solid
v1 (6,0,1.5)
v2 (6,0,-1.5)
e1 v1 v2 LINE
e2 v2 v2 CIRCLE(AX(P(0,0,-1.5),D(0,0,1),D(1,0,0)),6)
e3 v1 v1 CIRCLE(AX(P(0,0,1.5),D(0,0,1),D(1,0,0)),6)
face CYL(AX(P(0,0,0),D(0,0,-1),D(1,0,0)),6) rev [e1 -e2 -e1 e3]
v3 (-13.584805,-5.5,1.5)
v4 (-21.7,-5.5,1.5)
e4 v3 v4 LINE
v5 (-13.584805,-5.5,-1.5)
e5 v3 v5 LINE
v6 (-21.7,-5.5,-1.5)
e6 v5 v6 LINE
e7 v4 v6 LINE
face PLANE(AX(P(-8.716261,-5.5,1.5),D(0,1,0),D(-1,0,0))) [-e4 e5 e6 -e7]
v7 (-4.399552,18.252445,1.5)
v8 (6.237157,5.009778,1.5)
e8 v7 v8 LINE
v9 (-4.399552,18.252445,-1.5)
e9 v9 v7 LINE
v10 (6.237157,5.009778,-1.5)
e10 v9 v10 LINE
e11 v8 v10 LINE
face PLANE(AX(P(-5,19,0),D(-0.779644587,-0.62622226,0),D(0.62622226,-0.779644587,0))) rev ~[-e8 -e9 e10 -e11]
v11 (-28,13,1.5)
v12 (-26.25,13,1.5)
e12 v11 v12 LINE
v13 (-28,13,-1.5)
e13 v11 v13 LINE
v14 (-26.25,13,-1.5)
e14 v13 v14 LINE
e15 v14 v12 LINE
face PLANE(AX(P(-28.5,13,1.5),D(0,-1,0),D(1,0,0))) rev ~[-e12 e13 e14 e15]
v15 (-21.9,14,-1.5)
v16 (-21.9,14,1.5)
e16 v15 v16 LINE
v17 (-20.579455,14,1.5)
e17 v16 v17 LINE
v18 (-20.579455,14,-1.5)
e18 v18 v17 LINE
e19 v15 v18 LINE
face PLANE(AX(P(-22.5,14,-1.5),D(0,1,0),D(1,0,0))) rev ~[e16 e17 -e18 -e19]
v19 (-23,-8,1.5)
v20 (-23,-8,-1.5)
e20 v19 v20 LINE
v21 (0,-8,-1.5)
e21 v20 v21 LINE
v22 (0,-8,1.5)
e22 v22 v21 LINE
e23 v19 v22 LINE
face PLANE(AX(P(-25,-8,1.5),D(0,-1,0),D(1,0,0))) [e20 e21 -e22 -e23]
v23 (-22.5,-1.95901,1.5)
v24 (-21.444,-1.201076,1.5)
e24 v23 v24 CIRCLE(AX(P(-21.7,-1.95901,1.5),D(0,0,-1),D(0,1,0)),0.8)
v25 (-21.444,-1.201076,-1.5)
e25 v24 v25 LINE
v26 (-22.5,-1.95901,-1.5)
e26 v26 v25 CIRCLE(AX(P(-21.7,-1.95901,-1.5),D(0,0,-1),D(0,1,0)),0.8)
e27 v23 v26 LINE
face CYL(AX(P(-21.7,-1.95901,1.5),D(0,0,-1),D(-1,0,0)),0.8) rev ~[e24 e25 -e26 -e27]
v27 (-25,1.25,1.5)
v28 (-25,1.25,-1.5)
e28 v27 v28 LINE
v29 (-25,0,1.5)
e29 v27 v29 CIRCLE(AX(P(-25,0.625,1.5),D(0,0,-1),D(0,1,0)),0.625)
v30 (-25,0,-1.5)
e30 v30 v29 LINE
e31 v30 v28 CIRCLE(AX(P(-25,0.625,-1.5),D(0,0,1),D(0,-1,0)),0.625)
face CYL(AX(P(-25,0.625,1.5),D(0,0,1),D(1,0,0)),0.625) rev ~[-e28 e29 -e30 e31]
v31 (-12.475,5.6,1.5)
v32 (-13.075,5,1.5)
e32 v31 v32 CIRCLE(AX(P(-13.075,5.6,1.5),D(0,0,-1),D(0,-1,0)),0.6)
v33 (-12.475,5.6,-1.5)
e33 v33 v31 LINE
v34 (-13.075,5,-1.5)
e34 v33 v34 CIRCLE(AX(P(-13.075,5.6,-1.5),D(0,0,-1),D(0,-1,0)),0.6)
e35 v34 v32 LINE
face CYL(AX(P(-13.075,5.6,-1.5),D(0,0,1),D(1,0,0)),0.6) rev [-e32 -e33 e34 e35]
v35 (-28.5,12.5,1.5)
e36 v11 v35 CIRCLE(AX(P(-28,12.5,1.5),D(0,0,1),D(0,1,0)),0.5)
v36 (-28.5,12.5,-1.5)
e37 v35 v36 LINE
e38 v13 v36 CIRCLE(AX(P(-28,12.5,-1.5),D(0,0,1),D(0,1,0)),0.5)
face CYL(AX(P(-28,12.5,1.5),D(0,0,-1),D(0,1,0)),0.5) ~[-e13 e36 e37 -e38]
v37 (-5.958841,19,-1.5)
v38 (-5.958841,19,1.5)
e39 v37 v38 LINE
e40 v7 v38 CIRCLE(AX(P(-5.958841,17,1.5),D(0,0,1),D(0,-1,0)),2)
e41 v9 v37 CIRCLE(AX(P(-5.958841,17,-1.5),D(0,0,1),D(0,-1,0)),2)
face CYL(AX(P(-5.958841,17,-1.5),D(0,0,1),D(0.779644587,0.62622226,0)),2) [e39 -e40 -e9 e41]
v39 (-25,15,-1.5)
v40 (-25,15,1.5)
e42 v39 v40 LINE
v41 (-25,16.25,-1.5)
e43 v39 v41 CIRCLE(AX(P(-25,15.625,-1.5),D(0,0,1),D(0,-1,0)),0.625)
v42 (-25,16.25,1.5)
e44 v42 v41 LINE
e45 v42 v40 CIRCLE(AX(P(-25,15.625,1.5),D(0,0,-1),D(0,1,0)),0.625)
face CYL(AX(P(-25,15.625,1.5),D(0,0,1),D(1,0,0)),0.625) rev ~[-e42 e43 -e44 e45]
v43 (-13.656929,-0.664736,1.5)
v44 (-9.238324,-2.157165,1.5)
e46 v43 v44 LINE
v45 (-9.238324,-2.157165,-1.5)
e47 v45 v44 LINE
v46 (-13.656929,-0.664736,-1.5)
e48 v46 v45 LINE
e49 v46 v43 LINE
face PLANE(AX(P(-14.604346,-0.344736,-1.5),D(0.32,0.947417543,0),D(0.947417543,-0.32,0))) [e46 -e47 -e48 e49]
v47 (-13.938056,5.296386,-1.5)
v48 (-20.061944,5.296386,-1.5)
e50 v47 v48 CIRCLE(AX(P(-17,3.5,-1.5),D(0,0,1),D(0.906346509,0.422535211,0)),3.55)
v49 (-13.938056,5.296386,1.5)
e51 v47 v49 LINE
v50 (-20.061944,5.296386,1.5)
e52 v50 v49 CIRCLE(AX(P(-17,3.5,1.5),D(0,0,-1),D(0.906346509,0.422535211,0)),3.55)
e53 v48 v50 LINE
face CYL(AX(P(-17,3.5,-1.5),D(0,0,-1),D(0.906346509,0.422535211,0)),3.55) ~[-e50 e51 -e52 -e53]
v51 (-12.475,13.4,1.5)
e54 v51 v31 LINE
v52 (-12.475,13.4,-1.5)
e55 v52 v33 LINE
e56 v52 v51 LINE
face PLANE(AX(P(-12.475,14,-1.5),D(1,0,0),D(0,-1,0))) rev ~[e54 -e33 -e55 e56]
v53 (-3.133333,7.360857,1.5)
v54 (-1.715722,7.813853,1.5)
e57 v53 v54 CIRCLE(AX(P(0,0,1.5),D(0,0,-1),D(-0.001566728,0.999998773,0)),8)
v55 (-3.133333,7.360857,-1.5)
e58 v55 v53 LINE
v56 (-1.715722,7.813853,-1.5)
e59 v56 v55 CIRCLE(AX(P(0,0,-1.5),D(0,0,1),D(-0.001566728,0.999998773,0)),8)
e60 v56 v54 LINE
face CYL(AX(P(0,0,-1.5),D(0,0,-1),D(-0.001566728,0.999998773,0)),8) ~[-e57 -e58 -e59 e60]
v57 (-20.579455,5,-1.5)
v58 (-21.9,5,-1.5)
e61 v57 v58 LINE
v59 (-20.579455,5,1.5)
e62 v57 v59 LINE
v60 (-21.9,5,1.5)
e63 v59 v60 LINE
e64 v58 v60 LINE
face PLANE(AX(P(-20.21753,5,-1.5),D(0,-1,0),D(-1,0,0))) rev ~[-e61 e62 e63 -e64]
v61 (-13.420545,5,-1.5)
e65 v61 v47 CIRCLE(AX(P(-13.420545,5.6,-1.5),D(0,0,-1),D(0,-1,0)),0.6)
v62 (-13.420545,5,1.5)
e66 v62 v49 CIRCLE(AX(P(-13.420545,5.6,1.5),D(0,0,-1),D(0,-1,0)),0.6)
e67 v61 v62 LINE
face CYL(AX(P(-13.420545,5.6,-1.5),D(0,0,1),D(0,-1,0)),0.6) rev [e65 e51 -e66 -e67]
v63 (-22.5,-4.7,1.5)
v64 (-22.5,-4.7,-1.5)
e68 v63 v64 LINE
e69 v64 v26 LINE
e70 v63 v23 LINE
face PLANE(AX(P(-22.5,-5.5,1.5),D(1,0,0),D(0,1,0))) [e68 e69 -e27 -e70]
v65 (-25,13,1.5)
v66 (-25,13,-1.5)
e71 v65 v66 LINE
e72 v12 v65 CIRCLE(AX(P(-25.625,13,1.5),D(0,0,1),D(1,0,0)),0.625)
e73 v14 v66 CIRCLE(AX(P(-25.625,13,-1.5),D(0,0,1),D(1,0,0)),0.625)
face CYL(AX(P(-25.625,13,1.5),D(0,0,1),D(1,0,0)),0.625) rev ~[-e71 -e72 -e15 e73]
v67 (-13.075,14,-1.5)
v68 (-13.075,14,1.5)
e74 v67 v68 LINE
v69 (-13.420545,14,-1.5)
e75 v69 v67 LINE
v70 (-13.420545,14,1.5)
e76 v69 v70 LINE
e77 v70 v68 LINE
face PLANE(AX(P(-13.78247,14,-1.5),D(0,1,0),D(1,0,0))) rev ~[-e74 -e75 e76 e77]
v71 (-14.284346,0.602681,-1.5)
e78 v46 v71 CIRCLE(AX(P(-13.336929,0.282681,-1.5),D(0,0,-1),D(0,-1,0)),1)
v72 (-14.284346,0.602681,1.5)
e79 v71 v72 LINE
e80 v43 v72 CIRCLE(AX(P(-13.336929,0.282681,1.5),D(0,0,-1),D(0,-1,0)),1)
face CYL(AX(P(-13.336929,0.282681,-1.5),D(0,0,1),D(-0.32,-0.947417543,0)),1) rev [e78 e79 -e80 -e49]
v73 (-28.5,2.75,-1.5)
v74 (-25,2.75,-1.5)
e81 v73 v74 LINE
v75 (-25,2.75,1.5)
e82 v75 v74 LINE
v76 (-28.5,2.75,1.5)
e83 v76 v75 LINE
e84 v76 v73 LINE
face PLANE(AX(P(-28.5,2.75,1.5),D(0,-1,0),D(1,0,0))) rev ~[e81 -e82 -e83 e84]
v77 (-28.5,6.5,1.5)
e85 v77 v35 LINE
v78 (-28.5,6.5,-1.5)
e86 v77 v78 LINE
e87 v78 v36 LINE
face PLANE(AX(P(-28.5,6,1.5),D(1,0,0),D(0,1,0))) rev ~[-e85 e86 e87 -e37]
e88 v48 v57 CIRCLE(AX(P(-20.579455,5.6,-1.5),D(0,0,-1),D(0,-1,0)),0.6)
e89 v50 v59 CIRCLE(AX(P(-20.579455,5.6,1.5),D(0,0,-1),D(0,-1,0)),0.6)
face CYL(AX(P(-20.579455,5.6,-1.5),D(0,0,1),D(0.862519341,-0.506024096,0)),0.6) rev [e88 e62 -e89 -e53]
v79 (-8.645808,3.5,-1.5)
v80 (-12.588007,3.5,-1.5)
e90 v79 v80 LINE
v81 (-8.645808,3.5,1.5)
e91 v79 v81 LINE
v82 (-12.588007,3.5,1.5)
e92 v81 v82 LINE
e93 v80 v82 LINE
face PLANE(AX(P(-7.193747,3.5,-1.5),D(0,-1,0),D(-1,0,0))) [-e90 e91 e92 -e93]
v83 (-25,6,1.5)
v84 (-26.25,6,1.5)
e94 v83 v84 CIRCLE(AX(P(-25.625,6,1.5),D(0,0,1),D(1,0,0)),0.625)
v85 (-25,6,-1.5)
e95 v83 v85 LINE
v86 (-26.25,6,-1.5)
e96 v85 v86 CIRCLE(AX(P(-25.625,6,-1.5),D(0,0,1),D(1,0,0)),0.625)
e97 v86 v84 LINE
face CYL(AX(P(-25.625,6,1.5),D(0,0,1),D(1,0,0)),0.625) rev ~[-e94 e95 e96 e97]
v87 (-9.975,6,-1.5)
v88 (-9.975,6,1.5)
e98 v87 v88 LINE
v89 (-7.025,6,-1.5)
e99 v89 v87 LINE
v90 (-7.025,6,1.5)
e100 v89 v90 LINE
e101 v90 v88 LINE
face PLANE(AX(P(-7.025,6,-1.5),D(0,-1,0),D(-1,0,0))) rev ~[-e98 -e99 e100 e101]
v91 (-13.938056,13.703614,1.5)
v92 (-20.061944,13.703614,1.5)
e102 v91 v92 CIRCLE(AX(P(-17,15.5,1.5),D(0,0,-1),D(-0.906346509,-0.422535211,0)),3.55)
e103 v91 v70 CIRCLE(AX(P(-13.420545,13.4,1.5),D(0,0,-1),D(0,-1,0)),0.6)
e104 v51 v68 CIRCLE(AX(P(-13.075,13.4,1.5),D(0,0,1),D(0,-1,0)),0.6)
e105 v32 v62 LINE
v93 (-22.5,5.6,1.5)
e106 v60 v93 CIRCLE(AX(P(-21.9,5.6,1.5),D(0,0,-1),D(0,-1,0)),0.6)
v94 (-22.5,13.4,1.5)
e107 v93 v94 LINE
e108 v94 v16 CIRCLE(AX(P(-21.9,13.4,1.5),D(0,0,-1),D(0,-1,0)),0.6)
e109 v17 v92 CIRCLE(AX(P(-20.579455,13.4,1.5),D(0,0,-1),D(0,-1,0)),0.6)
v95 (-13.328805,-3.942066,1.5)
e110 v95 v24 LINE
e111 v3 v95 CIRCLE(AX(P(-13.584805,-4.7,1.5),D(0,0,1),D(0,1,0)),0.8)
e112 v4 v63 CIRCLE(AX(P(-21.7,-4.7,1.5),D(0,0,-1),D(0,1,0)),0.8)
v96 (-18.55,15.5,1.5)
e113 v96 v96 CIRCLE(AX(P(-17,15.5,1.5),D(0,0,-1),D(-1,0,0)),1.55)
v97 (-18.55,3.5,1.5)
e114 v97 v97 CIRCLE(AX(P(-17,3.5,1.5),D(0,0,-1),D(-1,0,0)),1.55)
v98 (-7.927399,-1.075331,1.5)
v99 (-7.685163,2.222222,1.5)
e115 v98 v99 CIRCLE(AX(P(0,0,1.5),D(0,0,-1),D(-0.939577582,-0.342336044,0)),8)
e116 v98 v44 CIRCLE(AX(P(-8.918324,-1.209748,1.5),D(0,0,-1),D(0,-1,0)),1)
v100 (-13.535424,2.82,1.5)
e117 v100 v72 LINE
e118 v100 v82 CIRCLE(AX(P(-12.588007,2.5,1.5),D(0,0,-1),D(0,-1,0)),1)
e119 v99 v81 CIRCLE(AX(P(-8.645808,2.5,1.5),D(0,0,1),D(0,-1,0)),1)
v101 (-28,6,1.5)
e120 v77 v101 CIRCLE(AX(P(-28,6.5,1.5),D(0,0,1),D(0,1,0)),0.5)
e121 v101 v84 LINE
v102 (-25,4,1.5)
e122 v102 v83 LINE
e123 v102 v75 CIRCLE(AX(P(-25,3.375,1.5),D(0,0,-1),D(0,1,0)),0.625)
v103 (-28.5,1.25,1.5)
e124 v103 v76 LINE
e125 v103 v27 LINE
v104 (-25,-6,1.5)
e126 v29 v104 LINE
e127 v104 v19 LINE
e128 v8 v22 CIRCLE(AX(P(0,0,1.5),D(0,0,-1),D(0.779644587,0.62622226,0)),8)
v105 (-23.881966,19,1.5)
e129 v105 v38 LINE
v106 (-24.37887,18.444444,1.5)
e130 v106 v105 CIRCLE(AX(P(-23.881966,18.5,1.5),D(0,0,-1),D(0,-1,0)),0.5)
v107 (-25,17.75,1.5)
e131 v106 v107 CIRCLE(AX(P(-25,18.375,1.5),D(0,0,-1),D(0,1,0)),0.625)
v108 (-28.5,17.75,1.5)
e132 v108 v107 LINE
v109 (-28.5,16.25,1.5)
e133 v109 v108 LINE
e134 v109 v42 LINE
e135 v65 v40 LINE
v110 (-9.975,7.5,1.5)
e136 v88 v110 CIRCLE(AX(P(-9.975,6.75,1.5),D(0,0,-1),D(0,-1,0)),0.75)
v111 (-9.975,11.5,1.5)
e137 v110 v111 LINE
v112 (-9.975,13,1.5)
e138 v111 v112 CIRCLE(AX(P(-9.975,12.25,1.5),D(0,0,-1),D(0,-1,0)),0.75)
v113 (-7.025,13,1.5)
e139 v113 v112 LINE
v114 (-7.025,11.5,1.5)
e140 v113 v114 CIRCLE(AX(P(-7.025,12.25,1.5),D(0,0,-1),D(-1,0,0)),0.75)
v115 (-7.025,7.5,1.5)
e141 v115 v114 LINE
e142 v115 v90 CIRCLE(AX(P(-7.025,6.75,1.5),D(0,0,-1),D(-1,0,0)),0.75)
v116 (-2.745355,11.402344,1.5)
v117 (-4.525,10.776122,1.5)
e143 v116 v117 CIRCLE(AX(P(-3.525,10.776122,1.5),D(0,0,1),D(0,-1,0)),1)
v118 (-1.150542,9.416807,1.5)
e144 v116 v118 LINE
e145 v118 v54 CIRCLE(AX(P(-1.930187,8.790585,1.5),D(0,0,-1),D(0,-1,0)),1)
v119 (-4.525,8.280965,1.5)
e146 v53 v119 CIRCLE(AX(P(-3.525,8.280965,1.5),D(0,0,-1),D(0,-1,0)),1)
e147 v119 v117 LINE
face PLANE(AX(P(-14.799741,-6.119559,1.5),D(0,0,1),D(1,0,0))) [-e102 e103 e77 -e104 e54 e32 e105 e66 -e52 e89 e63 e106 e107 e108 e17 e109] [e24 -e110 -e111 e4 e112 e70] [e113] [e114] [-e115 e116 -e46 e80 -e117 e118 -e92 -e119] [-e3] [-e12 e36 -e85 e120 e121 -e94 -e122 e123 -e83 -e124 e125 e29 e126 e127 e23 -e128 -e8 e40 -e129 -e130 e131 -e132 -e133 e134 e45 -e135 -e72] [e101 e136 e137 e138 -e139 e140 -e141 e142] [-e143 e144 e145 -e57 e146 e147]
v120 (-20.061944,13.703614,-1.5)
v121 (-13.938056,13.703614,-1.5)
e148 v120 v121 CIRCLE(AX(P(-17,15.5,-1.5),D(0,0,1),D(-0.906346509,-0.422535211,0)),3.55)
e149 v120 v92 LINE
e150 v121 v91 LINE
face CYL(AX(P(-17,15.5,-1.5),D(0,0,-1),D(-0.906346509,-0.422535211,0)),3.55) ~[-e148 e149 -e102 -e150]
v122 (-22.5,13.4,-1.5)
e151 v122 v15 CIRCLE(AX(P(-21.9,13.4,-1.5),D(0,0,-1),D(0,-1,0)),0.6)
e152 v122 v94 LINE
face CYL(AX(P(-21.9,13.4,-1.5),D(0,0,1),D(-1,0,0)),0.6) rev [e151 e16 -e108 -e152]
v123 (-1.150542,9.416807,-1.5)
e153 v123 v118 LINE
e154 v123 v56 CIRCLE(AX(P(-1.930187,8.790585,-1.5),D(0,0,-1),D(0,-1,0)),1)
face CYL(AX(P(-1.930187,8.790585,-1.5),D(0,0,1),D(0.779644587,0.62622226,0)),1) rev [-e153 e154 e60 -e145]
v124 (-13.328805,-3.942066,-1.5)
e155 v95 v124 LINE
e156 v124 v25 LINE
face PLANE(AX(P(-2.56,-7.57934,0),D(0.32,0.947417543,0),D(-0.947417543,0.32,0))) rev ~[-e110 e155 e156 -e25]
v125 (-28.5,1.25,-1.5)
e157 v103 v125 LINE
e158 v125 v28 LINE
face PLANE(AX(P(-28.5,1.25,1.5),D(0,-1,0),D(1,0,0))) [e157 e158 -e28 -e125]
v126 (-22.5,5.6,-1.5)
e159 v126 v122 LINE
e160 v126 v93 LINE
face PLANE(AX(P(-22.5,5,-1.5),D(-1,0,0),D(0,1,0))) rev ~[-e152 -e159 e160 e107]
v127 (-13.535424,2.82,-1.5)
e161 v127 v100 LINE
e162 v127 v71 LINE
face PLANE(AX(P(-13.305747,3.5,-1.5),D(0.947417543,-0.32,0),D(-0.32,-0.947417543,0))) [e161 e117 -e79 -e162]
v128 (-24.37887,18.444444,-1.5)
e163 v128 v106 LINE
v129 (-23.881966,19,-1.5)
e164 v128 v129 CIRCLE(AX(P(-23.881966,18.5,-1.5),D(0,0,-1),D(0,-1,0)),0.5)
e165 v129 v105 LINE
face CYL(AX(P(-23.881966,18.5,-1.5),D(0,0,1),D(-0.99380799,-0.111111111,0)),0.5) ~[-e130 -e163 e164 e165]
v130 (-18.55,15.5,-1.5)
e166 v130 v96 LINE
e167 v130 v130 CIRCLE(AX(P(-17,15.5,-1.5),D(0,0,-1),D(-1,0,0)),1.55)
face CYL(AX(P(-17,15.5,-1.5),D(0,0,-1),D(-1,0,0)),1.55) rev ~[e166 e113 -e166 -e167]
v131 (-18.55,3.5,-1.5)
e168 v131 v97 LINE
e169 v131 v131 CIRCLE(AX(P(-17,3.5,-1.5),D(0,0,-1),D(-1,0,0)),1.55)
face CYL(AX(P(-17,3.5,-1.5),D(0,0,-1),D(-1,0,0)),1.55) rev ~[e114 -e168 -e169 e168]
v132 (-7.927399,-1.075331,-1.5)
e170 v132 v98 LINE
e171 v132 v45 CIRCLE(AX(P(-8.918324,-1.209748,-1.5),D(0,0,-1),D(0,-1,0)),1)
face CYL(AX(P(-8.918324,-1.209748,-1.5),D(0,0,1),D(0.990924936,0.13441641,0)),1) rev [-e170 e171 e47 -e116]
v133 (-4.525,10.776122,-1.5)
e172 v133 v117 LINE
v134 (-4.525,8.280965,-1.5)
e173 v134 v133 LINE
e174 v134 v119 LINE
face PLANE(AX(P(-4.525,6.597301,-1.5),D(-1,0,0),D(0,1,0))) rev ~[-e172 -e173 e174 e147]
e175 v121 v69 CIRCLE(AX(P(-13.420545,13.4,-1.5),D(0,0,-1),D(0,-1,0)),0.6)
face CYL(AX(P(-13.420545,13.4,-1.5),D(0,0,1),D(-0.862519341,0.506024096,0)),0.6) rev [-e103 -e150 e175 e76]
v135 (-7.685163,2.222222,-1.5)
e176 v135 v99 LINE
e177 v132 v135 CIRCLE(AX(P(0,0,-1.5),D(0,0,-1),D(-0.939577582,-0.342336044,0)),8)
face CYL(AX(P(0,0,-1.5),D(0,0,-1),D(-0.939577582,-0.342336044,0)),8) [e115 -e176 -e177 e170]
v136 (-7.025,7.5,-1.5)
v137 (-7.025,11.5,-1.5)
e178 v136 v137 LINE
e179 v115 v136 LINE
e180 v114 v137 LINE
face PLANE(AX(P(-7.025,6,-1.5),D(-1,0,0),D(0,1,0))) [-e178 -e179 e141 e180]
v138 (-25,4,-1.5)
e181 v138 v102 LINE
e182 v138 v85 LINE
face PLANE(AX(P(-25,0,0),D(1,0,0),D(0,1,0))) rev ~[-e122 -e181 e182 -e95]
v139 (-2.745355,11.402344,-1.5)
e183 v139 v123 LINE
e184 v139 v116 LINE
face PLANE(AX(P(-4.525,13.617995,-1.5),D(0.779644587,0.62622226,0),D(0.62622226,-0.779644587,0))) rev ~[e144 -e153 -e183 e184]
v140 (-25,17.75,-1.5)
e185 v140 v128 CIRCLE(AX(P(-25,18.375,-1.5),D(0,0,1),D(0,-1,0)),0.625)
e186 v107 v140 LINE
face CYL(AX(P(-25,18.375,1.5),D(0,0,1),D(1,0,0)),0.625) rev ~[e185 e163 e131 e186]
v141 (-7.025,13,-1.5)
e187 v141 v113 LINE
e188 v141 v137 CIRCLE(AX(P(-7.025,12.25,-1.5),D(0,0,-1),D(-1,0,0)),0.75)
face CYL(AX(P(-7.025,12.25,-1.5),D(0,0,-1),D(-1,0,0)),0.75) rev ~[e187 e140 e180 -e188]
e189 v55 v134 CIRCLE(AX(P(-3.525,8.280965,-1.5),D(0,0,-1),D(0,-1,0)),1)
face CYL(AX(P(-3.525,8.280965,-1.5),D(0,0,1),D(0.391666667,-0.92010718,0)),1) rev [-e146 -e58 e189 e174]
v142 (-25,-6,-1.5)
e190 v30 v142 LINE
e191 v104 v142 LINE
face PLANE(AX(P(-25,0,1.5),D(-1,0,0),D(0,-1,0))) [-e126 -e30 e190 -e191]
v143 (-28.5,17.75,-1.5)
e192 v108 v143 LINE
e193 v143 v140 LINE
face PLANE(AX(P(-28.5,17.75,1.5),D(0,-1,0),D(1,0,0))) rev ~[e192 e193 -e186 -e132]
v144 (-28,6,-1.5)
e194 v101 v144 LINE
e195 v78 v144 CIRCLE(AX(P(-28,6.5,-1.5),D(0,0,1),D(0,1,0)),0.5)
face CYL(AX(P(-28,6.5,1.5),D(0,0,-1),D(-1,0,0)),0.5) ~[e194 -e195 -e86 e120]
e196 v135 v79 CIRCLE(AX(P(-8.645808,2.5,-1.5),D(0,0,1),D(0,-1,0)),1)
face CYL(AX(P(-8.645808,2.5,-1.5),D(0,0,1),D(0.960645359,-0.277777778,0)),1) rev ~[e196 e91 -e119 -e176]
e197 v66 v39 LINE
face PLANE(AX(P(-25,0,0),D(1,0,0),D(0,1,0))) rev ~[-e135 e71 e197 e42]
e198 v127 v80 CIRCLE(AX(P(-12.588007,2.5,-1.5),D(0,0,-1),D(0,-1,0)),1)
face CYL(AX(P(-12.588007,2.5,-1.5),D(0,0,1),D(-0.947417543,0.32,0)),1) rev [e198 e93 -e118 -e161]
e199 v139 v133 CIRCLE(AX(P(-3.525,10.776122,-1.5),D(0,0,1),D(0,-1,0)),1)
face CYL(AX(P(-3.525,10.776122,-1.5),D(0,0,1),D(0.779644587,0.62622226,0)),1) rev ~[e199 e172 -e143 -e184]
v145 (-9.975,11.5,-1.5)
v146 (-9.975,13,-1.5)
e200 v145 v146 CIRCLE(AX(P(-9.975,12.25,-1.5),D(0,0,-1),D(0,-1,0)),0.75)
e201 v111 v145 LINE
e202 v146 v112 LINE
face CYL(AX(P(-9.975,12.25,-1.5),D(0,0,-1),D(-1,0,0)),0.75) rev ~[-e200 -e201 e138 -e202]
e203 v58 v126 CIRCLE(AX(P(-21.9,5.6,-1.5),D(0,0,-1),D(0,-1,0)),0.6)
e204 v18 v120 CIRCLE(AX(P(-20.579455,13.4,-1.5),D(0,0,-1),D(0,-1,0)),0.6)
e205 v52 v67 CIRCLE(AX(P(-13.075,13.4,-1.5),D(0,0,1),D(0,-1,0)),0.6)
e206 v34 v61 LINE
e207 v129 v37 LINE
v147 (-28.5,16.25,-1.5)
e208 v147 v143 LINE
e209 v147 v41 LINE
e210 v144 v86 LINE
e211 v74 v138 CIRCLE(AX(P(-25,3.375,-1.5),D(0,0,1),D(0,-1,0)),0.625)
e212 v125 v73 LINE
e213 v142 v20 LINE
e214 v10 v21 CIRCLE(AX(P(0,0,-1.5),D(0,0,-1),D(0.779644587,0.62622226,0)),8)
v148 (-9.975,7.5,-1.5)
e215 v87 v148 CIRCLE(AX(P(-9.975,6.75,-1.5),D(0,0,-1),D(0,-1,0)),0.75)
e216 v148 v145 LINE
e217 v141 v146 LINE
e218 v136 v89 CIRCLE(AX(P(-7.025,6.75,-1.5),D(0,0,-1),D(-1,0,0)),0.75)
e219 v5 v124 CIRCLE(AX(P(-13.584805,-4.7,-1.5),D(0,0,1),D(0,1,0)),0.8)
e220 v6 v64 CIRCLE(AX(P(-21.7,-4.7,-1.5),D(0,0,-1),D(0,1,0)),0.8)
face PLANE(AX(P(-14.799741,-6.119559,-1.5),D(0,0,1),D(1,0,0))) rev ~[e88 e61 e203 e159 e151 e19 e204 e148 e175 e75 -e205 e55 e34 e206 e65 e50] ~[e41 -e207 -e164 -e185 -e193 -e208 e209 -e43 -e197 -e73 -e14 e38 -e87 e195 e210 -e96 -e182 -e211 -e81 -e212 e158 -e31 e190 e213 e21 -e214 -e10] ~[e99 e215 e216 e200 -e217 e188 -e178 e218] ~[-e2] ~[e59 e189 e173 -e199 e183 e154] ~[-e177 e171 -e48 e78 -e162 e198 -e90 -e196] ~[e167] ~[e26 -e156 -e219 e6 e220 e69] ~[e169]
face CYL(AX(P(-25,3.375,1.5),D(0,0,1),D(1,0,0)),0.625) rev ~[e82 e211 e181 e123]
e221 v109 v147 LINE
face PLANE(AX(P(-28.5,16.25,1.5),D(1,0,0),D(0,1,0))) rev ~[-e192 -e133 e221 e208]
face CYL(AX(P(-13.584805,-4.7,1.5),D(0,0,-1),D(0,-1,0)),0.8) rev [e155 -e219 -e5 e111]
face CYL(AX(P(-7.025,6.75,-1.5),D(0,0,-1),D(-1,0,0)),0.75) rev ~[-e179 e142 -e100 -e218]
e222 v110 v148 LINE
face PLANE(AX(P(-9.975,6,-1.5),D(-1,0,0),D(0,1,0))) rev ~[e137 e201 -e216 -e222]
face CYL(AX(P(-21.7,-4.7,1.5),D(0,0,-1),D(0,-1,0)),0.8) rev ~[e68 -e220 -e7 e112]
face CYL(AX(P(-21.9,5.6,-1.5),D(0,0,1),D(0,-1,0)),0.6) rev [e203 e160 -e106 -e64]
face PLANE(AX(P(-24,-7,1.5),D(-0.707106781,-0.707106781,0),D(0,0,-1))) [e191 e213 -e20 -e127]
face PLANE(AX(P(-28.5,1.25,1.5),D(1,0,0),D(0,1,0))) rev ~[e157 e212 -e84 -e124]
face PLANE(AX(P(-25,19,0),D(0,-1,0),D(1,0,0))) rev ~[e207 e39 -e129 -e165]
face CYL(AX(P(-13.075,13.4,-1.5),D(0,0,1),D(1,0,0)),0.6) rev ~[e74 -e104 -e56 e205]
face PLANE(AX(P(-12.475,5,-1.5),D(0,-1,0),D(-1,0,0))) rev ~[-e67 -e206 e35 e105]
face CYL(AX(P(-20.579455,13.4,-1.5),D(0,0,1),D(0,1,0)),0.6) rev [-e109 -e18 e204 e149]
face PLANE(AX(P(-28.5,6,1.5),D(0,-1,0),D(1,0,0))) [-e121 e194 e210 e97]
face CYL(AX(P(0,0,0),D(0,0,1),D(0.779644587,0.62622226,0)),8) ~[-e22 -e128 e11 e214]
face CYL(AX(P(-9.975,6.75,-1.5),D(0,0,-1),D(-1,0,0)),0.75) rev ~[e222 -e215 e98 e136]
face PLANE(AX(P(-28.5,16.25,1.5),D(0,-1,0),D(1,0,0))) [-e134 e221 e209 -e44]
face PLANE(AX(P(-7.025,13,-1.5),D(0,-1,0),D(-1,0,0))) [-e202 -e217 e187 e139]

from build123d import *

# Parameters (mm, degrees)
SKETCH_1_R          = 6
EXTRUDE_1_DEPTH     = 1.5
SKETCH_2_W          = 3.5
SKETCH_2_H          = 7
SKETCH_2_H_2        = 1.5
EXTRUDE_2_DEPTH     = 3
SKETCH_3_R          = 0.625
CUT_EXTRUDE_1_DEPTH = 4
FILLET_1_R          = 0.5
SKETCH_4_R          = 1.55
SKETCH_4_W          = 2.95
SKETCH_4_H          = 7
CUT_EXTRUDE_2_DEPTH = 4
SKETCH_5_R          = 0.75
CUT_EXTRUDE_3_DEPTH = 4
CUT_EXTRUDE_4_DEPTH = 4
FILLET_2_R          = 0.6
CUT_EXTRUDE_5_DEPTH = 4
FILLET_3_R          = 1
EXTRUDE_3_DEPTH     = 3
FILLET_4_R          = 0.8
CHAMFER_1_SIZE      = 2
FILLET_6_R          = 2


with BuildPart() as part:
    # 草图1 → 凸台-拉伸1 (new body, symmetric)
    with BuildSketch(Plane.XY):
        with BuildLine():
            Line((-5, 19), (6.237156693, 5.009778077))
            ThreePointArc((6.237156693, 5.009778077), (6.557579277, -4.582374279), (-2.56, -7.579340341))
            Line((-2.56, -7.579340341), (-25, 0))
            Line((-25, 0), (-25, 19))
            Line((-25, 19), (-5, 19))
        make_face()
        Circle(SKETCH_1_R, mode=Mode.SUBTRACT)
    extrude(amount=EXTRUDE_1_DEPTH, both=True)

    # 草图2 → 凸台-拉伸2 (add)
    with BuildSketch(Plane.XY.offset(1.5)):
        with Locations((-26.75, 9.5)):
            Rectangle(SKETCH_2_W, SKETCH_2_H)
        with Locations((-26.75, 2)):
            Rectangle(SKETCH_2_W, SKETCH_2_H_2)
        with Locations((-26.75, 17)):
            Rectangle(SKETCH_2_W, SKETCH_2_H_2)
    extrude(amount=-EXTRUDE_2_DEPTH)

    # 草图3 → 切除-拉伸1 (cut, through all)
    with BuildSketch(Plane.XY.offset(1.5)):
        with Locations((-25, 15.625)):
            Circle(SKETCH_3_R)
        with Locations((-25, 18.375)):
            Circle(SKETCH_3_R)
        with Locations((-25, 3.375)):
            Circle(SKETCH_3_R)
        with Locations((-25, 0.625)):
            Circle(SKETCH_3_R)
        with Locations((-25.625, 6)):
            Circle(SKETCH_3_R)
        with Locations((-25.625, 13)):
            Circle(SKETCH_3_R)
    extrude(amount=-CUT_EXTRUDE_1_DEPTH, mode=Mode.SUBTRACT)

    # 圆角1
    fillet_1_edges = [part.edges().sort_by_distance(p)[0] for p in [
        (-28.5, 6, 0),
        (-28.5, 13, 0),
        (-25, 19, 0),
    ]]
    fillet(fillet_1_edges, radius=FILLET_1_R)

    # 草图4 → 切除-拉伸2 (cut, through all)
    with BuildSketch(Plane(origin=(0, 0, -1.5), x_dir=(-1, 0, 0), z_dir=(0, 0, -1))):
        with Locations((17, 15.5)):
            Circle(SKETCH_4_R)
        with Locations((17, 3.5)):
            Circle(SKETCH_4_R)
        with Locations((8.5, 9.5)):
            Rectangle(SKETCH_4_W, SKETCH_4_H)
    extrude(amount=-CUT_EXTRUDE_2_DEPTH, mode=Mode.SUBTRACT)

    # 草图5 → 切除-拉伸3 (cut, through all)
    with BuildSketch(Plane(origin=(0, 0, -1.5), x_dir=(-1, 0, 0), z_dir=(0, 0, -1))):
        with Locations((7.025, 12.25)):
            Circle(SKETCH_5_R)
        with Locations((9.975, 12.25)):
            Circle(SKETCH_5_R)
        with Locations((7.025, 6.75)):
            Circle(SKETCH_5_R)
        with Locations((9.975, 6.75)):
            Circle(SKETCH_5_R)
    extrude(amount=-CUT_EXTRUDE_3_DEPTH, mode=Mode.SUBTRACT)

    # 草图6 → 切除-拉伸4 (cut, through all)
    with BuildSketch(Plane(origin=(0, 0, -1.5), x_dir=(-1, 0, 0), z_dir=(0, 0, -1))):
        with BuildLine():
            Line((12.475, 14), (12.475, 5))
            Line((12.475, 5), (13.782469891, 5))
            ThreePointArc((13.782469891, 5), (17, 7.05), (20.217530109, 5))
            Line((20.217530109, 5), (22.5, 5))
            Line((22.5, 5), (22.5, 14))
            Line((22.5, 14), (20.217530109, 14))
            ThreePointArc((20.217530109, 14), (17, 11.95), (13.782469891, 14))
            Line((13.782469891, 14), (12.475, 14))
        make_face()
    extrude(amount=-CUT_EXTRUDE_4_DEPTH, mode=Mode.SUBTRACT)

    # 圆角2
    fillet_2_edges = [part.edges().sort_by_distance(p)[0] for p in [
        (-12.475, 14, 0),
        (-13.782469891, 14, 0),
        (-20.217530109, 14, 0),
        (-22.5, 14, 0),
        (-22.5, 5, 0),
        (-20.217530109, 5, 0),
        (-13.782469891, 5, 0),
        (-12.475, 5, 0),
    ]]
    fillet(fillet_2_edges, radius=FILLET_2_R)

    # 草图7 → 切除-拉伸5 (cut, through all)
    with BuildSketch(Plane(origin=(0, 0, -1.5), x_dir=(-1, 0, 0), z_dir=(0, 0, -1))):
        with BuildLine():
            Line((7.193747285, 3.5), (13.305747104, 3.5))
            Line((13.305747104, 3.5), (14.604346249, -0.344736281))
            Line((14.604346249, -0.344736281), (7.516620657, -2.738688353))
            ThreePointArc((7.516620657, -2.738688353), (7.989307814, 0.413473892), (7.193747285, 3.5))
        make_face()
        with BuildLine():
            Line((4.525, 13.617995246), (0.012533825, 7.999990181))
            ThreePointArc((0.012533825, 7.999990181), (2.374697418, 7.639424859), (4.525, 6.597300584))
            Line((4.525, 6.597300584), (4.525, 13.617995246))
        make_face()
    extrude(amount=-CUT_EXTRUDE_5_DEPTH, mode=Mode.SUBTRACT)

    # 圆角3
    fillet_3_edges = [part.edges().sort_by_distance(p)[0] for p in [
        (-7.516620657, -2.738688353, 0),
        (-7.193747285, 3.5, 0),
        (-13.305747104, 3.5, 0),
        (-14.604346249, -0.344736281, 0),
        (-4.525, 13.617995246, 0),
        (-4.525, 6.597300584, 0),
        (-0.012533825, 7.999990181, 0),
    ]]
    fillet(fillet_3_edges, radius=FILLET_3_R)

    # 草图8 → 凸台-拉伸3 (add)
    with BuildSketch(Plane.XY.offset(1.5)):
        with BuildLine():
            Line((-25, 0), (-25, -8))
            Line((-25, -8), (0, -8))
            ThreePointArc((0, -8), (-1.297165617, -7.894134618), (-2.56, -7.579340341))
            Line((-2.56, -7.579340341), (-8.716260987, -5.5))
            Line((-8.716260987, -5.5), (-22.5, -5.5))
            Line((-22.5, -5.5), (-22.5, -0.844400662))
            Line((-22.5, -0.844400662), (-25, 0))
        make_face()
    extrude(amount=-EXTRUDE_3_DEPTH)

    # 圆角4
    fillet_4_edges = [part.edges().sort_by_distance(p)[0] for p in [
        (-22.5, -0.844400662, 0),
        (-22.5, -5.5, 0),
        (-8.716260987, -5.5, 0),
    ]]
    fillet(fillet_4_edges, radius=FILLET_4_R)

    # 倒角1
    chamfer_1_edges = [part.edges().sort_by_distance(p)[0] for p in [
        (-25, -8, 0),
    ]]
    chamfer(chamfer_1_edges, length=CHAMFER_1_SIZE)

    # 圆角6
    fillet_6_edges = [part.edges().sort_by_distance(p)[0] for p in [
        (-5, 19, 0),
    ]]
    fillet(fillet_6_edges, radius=FILLET_6_R)


solid = part.part
